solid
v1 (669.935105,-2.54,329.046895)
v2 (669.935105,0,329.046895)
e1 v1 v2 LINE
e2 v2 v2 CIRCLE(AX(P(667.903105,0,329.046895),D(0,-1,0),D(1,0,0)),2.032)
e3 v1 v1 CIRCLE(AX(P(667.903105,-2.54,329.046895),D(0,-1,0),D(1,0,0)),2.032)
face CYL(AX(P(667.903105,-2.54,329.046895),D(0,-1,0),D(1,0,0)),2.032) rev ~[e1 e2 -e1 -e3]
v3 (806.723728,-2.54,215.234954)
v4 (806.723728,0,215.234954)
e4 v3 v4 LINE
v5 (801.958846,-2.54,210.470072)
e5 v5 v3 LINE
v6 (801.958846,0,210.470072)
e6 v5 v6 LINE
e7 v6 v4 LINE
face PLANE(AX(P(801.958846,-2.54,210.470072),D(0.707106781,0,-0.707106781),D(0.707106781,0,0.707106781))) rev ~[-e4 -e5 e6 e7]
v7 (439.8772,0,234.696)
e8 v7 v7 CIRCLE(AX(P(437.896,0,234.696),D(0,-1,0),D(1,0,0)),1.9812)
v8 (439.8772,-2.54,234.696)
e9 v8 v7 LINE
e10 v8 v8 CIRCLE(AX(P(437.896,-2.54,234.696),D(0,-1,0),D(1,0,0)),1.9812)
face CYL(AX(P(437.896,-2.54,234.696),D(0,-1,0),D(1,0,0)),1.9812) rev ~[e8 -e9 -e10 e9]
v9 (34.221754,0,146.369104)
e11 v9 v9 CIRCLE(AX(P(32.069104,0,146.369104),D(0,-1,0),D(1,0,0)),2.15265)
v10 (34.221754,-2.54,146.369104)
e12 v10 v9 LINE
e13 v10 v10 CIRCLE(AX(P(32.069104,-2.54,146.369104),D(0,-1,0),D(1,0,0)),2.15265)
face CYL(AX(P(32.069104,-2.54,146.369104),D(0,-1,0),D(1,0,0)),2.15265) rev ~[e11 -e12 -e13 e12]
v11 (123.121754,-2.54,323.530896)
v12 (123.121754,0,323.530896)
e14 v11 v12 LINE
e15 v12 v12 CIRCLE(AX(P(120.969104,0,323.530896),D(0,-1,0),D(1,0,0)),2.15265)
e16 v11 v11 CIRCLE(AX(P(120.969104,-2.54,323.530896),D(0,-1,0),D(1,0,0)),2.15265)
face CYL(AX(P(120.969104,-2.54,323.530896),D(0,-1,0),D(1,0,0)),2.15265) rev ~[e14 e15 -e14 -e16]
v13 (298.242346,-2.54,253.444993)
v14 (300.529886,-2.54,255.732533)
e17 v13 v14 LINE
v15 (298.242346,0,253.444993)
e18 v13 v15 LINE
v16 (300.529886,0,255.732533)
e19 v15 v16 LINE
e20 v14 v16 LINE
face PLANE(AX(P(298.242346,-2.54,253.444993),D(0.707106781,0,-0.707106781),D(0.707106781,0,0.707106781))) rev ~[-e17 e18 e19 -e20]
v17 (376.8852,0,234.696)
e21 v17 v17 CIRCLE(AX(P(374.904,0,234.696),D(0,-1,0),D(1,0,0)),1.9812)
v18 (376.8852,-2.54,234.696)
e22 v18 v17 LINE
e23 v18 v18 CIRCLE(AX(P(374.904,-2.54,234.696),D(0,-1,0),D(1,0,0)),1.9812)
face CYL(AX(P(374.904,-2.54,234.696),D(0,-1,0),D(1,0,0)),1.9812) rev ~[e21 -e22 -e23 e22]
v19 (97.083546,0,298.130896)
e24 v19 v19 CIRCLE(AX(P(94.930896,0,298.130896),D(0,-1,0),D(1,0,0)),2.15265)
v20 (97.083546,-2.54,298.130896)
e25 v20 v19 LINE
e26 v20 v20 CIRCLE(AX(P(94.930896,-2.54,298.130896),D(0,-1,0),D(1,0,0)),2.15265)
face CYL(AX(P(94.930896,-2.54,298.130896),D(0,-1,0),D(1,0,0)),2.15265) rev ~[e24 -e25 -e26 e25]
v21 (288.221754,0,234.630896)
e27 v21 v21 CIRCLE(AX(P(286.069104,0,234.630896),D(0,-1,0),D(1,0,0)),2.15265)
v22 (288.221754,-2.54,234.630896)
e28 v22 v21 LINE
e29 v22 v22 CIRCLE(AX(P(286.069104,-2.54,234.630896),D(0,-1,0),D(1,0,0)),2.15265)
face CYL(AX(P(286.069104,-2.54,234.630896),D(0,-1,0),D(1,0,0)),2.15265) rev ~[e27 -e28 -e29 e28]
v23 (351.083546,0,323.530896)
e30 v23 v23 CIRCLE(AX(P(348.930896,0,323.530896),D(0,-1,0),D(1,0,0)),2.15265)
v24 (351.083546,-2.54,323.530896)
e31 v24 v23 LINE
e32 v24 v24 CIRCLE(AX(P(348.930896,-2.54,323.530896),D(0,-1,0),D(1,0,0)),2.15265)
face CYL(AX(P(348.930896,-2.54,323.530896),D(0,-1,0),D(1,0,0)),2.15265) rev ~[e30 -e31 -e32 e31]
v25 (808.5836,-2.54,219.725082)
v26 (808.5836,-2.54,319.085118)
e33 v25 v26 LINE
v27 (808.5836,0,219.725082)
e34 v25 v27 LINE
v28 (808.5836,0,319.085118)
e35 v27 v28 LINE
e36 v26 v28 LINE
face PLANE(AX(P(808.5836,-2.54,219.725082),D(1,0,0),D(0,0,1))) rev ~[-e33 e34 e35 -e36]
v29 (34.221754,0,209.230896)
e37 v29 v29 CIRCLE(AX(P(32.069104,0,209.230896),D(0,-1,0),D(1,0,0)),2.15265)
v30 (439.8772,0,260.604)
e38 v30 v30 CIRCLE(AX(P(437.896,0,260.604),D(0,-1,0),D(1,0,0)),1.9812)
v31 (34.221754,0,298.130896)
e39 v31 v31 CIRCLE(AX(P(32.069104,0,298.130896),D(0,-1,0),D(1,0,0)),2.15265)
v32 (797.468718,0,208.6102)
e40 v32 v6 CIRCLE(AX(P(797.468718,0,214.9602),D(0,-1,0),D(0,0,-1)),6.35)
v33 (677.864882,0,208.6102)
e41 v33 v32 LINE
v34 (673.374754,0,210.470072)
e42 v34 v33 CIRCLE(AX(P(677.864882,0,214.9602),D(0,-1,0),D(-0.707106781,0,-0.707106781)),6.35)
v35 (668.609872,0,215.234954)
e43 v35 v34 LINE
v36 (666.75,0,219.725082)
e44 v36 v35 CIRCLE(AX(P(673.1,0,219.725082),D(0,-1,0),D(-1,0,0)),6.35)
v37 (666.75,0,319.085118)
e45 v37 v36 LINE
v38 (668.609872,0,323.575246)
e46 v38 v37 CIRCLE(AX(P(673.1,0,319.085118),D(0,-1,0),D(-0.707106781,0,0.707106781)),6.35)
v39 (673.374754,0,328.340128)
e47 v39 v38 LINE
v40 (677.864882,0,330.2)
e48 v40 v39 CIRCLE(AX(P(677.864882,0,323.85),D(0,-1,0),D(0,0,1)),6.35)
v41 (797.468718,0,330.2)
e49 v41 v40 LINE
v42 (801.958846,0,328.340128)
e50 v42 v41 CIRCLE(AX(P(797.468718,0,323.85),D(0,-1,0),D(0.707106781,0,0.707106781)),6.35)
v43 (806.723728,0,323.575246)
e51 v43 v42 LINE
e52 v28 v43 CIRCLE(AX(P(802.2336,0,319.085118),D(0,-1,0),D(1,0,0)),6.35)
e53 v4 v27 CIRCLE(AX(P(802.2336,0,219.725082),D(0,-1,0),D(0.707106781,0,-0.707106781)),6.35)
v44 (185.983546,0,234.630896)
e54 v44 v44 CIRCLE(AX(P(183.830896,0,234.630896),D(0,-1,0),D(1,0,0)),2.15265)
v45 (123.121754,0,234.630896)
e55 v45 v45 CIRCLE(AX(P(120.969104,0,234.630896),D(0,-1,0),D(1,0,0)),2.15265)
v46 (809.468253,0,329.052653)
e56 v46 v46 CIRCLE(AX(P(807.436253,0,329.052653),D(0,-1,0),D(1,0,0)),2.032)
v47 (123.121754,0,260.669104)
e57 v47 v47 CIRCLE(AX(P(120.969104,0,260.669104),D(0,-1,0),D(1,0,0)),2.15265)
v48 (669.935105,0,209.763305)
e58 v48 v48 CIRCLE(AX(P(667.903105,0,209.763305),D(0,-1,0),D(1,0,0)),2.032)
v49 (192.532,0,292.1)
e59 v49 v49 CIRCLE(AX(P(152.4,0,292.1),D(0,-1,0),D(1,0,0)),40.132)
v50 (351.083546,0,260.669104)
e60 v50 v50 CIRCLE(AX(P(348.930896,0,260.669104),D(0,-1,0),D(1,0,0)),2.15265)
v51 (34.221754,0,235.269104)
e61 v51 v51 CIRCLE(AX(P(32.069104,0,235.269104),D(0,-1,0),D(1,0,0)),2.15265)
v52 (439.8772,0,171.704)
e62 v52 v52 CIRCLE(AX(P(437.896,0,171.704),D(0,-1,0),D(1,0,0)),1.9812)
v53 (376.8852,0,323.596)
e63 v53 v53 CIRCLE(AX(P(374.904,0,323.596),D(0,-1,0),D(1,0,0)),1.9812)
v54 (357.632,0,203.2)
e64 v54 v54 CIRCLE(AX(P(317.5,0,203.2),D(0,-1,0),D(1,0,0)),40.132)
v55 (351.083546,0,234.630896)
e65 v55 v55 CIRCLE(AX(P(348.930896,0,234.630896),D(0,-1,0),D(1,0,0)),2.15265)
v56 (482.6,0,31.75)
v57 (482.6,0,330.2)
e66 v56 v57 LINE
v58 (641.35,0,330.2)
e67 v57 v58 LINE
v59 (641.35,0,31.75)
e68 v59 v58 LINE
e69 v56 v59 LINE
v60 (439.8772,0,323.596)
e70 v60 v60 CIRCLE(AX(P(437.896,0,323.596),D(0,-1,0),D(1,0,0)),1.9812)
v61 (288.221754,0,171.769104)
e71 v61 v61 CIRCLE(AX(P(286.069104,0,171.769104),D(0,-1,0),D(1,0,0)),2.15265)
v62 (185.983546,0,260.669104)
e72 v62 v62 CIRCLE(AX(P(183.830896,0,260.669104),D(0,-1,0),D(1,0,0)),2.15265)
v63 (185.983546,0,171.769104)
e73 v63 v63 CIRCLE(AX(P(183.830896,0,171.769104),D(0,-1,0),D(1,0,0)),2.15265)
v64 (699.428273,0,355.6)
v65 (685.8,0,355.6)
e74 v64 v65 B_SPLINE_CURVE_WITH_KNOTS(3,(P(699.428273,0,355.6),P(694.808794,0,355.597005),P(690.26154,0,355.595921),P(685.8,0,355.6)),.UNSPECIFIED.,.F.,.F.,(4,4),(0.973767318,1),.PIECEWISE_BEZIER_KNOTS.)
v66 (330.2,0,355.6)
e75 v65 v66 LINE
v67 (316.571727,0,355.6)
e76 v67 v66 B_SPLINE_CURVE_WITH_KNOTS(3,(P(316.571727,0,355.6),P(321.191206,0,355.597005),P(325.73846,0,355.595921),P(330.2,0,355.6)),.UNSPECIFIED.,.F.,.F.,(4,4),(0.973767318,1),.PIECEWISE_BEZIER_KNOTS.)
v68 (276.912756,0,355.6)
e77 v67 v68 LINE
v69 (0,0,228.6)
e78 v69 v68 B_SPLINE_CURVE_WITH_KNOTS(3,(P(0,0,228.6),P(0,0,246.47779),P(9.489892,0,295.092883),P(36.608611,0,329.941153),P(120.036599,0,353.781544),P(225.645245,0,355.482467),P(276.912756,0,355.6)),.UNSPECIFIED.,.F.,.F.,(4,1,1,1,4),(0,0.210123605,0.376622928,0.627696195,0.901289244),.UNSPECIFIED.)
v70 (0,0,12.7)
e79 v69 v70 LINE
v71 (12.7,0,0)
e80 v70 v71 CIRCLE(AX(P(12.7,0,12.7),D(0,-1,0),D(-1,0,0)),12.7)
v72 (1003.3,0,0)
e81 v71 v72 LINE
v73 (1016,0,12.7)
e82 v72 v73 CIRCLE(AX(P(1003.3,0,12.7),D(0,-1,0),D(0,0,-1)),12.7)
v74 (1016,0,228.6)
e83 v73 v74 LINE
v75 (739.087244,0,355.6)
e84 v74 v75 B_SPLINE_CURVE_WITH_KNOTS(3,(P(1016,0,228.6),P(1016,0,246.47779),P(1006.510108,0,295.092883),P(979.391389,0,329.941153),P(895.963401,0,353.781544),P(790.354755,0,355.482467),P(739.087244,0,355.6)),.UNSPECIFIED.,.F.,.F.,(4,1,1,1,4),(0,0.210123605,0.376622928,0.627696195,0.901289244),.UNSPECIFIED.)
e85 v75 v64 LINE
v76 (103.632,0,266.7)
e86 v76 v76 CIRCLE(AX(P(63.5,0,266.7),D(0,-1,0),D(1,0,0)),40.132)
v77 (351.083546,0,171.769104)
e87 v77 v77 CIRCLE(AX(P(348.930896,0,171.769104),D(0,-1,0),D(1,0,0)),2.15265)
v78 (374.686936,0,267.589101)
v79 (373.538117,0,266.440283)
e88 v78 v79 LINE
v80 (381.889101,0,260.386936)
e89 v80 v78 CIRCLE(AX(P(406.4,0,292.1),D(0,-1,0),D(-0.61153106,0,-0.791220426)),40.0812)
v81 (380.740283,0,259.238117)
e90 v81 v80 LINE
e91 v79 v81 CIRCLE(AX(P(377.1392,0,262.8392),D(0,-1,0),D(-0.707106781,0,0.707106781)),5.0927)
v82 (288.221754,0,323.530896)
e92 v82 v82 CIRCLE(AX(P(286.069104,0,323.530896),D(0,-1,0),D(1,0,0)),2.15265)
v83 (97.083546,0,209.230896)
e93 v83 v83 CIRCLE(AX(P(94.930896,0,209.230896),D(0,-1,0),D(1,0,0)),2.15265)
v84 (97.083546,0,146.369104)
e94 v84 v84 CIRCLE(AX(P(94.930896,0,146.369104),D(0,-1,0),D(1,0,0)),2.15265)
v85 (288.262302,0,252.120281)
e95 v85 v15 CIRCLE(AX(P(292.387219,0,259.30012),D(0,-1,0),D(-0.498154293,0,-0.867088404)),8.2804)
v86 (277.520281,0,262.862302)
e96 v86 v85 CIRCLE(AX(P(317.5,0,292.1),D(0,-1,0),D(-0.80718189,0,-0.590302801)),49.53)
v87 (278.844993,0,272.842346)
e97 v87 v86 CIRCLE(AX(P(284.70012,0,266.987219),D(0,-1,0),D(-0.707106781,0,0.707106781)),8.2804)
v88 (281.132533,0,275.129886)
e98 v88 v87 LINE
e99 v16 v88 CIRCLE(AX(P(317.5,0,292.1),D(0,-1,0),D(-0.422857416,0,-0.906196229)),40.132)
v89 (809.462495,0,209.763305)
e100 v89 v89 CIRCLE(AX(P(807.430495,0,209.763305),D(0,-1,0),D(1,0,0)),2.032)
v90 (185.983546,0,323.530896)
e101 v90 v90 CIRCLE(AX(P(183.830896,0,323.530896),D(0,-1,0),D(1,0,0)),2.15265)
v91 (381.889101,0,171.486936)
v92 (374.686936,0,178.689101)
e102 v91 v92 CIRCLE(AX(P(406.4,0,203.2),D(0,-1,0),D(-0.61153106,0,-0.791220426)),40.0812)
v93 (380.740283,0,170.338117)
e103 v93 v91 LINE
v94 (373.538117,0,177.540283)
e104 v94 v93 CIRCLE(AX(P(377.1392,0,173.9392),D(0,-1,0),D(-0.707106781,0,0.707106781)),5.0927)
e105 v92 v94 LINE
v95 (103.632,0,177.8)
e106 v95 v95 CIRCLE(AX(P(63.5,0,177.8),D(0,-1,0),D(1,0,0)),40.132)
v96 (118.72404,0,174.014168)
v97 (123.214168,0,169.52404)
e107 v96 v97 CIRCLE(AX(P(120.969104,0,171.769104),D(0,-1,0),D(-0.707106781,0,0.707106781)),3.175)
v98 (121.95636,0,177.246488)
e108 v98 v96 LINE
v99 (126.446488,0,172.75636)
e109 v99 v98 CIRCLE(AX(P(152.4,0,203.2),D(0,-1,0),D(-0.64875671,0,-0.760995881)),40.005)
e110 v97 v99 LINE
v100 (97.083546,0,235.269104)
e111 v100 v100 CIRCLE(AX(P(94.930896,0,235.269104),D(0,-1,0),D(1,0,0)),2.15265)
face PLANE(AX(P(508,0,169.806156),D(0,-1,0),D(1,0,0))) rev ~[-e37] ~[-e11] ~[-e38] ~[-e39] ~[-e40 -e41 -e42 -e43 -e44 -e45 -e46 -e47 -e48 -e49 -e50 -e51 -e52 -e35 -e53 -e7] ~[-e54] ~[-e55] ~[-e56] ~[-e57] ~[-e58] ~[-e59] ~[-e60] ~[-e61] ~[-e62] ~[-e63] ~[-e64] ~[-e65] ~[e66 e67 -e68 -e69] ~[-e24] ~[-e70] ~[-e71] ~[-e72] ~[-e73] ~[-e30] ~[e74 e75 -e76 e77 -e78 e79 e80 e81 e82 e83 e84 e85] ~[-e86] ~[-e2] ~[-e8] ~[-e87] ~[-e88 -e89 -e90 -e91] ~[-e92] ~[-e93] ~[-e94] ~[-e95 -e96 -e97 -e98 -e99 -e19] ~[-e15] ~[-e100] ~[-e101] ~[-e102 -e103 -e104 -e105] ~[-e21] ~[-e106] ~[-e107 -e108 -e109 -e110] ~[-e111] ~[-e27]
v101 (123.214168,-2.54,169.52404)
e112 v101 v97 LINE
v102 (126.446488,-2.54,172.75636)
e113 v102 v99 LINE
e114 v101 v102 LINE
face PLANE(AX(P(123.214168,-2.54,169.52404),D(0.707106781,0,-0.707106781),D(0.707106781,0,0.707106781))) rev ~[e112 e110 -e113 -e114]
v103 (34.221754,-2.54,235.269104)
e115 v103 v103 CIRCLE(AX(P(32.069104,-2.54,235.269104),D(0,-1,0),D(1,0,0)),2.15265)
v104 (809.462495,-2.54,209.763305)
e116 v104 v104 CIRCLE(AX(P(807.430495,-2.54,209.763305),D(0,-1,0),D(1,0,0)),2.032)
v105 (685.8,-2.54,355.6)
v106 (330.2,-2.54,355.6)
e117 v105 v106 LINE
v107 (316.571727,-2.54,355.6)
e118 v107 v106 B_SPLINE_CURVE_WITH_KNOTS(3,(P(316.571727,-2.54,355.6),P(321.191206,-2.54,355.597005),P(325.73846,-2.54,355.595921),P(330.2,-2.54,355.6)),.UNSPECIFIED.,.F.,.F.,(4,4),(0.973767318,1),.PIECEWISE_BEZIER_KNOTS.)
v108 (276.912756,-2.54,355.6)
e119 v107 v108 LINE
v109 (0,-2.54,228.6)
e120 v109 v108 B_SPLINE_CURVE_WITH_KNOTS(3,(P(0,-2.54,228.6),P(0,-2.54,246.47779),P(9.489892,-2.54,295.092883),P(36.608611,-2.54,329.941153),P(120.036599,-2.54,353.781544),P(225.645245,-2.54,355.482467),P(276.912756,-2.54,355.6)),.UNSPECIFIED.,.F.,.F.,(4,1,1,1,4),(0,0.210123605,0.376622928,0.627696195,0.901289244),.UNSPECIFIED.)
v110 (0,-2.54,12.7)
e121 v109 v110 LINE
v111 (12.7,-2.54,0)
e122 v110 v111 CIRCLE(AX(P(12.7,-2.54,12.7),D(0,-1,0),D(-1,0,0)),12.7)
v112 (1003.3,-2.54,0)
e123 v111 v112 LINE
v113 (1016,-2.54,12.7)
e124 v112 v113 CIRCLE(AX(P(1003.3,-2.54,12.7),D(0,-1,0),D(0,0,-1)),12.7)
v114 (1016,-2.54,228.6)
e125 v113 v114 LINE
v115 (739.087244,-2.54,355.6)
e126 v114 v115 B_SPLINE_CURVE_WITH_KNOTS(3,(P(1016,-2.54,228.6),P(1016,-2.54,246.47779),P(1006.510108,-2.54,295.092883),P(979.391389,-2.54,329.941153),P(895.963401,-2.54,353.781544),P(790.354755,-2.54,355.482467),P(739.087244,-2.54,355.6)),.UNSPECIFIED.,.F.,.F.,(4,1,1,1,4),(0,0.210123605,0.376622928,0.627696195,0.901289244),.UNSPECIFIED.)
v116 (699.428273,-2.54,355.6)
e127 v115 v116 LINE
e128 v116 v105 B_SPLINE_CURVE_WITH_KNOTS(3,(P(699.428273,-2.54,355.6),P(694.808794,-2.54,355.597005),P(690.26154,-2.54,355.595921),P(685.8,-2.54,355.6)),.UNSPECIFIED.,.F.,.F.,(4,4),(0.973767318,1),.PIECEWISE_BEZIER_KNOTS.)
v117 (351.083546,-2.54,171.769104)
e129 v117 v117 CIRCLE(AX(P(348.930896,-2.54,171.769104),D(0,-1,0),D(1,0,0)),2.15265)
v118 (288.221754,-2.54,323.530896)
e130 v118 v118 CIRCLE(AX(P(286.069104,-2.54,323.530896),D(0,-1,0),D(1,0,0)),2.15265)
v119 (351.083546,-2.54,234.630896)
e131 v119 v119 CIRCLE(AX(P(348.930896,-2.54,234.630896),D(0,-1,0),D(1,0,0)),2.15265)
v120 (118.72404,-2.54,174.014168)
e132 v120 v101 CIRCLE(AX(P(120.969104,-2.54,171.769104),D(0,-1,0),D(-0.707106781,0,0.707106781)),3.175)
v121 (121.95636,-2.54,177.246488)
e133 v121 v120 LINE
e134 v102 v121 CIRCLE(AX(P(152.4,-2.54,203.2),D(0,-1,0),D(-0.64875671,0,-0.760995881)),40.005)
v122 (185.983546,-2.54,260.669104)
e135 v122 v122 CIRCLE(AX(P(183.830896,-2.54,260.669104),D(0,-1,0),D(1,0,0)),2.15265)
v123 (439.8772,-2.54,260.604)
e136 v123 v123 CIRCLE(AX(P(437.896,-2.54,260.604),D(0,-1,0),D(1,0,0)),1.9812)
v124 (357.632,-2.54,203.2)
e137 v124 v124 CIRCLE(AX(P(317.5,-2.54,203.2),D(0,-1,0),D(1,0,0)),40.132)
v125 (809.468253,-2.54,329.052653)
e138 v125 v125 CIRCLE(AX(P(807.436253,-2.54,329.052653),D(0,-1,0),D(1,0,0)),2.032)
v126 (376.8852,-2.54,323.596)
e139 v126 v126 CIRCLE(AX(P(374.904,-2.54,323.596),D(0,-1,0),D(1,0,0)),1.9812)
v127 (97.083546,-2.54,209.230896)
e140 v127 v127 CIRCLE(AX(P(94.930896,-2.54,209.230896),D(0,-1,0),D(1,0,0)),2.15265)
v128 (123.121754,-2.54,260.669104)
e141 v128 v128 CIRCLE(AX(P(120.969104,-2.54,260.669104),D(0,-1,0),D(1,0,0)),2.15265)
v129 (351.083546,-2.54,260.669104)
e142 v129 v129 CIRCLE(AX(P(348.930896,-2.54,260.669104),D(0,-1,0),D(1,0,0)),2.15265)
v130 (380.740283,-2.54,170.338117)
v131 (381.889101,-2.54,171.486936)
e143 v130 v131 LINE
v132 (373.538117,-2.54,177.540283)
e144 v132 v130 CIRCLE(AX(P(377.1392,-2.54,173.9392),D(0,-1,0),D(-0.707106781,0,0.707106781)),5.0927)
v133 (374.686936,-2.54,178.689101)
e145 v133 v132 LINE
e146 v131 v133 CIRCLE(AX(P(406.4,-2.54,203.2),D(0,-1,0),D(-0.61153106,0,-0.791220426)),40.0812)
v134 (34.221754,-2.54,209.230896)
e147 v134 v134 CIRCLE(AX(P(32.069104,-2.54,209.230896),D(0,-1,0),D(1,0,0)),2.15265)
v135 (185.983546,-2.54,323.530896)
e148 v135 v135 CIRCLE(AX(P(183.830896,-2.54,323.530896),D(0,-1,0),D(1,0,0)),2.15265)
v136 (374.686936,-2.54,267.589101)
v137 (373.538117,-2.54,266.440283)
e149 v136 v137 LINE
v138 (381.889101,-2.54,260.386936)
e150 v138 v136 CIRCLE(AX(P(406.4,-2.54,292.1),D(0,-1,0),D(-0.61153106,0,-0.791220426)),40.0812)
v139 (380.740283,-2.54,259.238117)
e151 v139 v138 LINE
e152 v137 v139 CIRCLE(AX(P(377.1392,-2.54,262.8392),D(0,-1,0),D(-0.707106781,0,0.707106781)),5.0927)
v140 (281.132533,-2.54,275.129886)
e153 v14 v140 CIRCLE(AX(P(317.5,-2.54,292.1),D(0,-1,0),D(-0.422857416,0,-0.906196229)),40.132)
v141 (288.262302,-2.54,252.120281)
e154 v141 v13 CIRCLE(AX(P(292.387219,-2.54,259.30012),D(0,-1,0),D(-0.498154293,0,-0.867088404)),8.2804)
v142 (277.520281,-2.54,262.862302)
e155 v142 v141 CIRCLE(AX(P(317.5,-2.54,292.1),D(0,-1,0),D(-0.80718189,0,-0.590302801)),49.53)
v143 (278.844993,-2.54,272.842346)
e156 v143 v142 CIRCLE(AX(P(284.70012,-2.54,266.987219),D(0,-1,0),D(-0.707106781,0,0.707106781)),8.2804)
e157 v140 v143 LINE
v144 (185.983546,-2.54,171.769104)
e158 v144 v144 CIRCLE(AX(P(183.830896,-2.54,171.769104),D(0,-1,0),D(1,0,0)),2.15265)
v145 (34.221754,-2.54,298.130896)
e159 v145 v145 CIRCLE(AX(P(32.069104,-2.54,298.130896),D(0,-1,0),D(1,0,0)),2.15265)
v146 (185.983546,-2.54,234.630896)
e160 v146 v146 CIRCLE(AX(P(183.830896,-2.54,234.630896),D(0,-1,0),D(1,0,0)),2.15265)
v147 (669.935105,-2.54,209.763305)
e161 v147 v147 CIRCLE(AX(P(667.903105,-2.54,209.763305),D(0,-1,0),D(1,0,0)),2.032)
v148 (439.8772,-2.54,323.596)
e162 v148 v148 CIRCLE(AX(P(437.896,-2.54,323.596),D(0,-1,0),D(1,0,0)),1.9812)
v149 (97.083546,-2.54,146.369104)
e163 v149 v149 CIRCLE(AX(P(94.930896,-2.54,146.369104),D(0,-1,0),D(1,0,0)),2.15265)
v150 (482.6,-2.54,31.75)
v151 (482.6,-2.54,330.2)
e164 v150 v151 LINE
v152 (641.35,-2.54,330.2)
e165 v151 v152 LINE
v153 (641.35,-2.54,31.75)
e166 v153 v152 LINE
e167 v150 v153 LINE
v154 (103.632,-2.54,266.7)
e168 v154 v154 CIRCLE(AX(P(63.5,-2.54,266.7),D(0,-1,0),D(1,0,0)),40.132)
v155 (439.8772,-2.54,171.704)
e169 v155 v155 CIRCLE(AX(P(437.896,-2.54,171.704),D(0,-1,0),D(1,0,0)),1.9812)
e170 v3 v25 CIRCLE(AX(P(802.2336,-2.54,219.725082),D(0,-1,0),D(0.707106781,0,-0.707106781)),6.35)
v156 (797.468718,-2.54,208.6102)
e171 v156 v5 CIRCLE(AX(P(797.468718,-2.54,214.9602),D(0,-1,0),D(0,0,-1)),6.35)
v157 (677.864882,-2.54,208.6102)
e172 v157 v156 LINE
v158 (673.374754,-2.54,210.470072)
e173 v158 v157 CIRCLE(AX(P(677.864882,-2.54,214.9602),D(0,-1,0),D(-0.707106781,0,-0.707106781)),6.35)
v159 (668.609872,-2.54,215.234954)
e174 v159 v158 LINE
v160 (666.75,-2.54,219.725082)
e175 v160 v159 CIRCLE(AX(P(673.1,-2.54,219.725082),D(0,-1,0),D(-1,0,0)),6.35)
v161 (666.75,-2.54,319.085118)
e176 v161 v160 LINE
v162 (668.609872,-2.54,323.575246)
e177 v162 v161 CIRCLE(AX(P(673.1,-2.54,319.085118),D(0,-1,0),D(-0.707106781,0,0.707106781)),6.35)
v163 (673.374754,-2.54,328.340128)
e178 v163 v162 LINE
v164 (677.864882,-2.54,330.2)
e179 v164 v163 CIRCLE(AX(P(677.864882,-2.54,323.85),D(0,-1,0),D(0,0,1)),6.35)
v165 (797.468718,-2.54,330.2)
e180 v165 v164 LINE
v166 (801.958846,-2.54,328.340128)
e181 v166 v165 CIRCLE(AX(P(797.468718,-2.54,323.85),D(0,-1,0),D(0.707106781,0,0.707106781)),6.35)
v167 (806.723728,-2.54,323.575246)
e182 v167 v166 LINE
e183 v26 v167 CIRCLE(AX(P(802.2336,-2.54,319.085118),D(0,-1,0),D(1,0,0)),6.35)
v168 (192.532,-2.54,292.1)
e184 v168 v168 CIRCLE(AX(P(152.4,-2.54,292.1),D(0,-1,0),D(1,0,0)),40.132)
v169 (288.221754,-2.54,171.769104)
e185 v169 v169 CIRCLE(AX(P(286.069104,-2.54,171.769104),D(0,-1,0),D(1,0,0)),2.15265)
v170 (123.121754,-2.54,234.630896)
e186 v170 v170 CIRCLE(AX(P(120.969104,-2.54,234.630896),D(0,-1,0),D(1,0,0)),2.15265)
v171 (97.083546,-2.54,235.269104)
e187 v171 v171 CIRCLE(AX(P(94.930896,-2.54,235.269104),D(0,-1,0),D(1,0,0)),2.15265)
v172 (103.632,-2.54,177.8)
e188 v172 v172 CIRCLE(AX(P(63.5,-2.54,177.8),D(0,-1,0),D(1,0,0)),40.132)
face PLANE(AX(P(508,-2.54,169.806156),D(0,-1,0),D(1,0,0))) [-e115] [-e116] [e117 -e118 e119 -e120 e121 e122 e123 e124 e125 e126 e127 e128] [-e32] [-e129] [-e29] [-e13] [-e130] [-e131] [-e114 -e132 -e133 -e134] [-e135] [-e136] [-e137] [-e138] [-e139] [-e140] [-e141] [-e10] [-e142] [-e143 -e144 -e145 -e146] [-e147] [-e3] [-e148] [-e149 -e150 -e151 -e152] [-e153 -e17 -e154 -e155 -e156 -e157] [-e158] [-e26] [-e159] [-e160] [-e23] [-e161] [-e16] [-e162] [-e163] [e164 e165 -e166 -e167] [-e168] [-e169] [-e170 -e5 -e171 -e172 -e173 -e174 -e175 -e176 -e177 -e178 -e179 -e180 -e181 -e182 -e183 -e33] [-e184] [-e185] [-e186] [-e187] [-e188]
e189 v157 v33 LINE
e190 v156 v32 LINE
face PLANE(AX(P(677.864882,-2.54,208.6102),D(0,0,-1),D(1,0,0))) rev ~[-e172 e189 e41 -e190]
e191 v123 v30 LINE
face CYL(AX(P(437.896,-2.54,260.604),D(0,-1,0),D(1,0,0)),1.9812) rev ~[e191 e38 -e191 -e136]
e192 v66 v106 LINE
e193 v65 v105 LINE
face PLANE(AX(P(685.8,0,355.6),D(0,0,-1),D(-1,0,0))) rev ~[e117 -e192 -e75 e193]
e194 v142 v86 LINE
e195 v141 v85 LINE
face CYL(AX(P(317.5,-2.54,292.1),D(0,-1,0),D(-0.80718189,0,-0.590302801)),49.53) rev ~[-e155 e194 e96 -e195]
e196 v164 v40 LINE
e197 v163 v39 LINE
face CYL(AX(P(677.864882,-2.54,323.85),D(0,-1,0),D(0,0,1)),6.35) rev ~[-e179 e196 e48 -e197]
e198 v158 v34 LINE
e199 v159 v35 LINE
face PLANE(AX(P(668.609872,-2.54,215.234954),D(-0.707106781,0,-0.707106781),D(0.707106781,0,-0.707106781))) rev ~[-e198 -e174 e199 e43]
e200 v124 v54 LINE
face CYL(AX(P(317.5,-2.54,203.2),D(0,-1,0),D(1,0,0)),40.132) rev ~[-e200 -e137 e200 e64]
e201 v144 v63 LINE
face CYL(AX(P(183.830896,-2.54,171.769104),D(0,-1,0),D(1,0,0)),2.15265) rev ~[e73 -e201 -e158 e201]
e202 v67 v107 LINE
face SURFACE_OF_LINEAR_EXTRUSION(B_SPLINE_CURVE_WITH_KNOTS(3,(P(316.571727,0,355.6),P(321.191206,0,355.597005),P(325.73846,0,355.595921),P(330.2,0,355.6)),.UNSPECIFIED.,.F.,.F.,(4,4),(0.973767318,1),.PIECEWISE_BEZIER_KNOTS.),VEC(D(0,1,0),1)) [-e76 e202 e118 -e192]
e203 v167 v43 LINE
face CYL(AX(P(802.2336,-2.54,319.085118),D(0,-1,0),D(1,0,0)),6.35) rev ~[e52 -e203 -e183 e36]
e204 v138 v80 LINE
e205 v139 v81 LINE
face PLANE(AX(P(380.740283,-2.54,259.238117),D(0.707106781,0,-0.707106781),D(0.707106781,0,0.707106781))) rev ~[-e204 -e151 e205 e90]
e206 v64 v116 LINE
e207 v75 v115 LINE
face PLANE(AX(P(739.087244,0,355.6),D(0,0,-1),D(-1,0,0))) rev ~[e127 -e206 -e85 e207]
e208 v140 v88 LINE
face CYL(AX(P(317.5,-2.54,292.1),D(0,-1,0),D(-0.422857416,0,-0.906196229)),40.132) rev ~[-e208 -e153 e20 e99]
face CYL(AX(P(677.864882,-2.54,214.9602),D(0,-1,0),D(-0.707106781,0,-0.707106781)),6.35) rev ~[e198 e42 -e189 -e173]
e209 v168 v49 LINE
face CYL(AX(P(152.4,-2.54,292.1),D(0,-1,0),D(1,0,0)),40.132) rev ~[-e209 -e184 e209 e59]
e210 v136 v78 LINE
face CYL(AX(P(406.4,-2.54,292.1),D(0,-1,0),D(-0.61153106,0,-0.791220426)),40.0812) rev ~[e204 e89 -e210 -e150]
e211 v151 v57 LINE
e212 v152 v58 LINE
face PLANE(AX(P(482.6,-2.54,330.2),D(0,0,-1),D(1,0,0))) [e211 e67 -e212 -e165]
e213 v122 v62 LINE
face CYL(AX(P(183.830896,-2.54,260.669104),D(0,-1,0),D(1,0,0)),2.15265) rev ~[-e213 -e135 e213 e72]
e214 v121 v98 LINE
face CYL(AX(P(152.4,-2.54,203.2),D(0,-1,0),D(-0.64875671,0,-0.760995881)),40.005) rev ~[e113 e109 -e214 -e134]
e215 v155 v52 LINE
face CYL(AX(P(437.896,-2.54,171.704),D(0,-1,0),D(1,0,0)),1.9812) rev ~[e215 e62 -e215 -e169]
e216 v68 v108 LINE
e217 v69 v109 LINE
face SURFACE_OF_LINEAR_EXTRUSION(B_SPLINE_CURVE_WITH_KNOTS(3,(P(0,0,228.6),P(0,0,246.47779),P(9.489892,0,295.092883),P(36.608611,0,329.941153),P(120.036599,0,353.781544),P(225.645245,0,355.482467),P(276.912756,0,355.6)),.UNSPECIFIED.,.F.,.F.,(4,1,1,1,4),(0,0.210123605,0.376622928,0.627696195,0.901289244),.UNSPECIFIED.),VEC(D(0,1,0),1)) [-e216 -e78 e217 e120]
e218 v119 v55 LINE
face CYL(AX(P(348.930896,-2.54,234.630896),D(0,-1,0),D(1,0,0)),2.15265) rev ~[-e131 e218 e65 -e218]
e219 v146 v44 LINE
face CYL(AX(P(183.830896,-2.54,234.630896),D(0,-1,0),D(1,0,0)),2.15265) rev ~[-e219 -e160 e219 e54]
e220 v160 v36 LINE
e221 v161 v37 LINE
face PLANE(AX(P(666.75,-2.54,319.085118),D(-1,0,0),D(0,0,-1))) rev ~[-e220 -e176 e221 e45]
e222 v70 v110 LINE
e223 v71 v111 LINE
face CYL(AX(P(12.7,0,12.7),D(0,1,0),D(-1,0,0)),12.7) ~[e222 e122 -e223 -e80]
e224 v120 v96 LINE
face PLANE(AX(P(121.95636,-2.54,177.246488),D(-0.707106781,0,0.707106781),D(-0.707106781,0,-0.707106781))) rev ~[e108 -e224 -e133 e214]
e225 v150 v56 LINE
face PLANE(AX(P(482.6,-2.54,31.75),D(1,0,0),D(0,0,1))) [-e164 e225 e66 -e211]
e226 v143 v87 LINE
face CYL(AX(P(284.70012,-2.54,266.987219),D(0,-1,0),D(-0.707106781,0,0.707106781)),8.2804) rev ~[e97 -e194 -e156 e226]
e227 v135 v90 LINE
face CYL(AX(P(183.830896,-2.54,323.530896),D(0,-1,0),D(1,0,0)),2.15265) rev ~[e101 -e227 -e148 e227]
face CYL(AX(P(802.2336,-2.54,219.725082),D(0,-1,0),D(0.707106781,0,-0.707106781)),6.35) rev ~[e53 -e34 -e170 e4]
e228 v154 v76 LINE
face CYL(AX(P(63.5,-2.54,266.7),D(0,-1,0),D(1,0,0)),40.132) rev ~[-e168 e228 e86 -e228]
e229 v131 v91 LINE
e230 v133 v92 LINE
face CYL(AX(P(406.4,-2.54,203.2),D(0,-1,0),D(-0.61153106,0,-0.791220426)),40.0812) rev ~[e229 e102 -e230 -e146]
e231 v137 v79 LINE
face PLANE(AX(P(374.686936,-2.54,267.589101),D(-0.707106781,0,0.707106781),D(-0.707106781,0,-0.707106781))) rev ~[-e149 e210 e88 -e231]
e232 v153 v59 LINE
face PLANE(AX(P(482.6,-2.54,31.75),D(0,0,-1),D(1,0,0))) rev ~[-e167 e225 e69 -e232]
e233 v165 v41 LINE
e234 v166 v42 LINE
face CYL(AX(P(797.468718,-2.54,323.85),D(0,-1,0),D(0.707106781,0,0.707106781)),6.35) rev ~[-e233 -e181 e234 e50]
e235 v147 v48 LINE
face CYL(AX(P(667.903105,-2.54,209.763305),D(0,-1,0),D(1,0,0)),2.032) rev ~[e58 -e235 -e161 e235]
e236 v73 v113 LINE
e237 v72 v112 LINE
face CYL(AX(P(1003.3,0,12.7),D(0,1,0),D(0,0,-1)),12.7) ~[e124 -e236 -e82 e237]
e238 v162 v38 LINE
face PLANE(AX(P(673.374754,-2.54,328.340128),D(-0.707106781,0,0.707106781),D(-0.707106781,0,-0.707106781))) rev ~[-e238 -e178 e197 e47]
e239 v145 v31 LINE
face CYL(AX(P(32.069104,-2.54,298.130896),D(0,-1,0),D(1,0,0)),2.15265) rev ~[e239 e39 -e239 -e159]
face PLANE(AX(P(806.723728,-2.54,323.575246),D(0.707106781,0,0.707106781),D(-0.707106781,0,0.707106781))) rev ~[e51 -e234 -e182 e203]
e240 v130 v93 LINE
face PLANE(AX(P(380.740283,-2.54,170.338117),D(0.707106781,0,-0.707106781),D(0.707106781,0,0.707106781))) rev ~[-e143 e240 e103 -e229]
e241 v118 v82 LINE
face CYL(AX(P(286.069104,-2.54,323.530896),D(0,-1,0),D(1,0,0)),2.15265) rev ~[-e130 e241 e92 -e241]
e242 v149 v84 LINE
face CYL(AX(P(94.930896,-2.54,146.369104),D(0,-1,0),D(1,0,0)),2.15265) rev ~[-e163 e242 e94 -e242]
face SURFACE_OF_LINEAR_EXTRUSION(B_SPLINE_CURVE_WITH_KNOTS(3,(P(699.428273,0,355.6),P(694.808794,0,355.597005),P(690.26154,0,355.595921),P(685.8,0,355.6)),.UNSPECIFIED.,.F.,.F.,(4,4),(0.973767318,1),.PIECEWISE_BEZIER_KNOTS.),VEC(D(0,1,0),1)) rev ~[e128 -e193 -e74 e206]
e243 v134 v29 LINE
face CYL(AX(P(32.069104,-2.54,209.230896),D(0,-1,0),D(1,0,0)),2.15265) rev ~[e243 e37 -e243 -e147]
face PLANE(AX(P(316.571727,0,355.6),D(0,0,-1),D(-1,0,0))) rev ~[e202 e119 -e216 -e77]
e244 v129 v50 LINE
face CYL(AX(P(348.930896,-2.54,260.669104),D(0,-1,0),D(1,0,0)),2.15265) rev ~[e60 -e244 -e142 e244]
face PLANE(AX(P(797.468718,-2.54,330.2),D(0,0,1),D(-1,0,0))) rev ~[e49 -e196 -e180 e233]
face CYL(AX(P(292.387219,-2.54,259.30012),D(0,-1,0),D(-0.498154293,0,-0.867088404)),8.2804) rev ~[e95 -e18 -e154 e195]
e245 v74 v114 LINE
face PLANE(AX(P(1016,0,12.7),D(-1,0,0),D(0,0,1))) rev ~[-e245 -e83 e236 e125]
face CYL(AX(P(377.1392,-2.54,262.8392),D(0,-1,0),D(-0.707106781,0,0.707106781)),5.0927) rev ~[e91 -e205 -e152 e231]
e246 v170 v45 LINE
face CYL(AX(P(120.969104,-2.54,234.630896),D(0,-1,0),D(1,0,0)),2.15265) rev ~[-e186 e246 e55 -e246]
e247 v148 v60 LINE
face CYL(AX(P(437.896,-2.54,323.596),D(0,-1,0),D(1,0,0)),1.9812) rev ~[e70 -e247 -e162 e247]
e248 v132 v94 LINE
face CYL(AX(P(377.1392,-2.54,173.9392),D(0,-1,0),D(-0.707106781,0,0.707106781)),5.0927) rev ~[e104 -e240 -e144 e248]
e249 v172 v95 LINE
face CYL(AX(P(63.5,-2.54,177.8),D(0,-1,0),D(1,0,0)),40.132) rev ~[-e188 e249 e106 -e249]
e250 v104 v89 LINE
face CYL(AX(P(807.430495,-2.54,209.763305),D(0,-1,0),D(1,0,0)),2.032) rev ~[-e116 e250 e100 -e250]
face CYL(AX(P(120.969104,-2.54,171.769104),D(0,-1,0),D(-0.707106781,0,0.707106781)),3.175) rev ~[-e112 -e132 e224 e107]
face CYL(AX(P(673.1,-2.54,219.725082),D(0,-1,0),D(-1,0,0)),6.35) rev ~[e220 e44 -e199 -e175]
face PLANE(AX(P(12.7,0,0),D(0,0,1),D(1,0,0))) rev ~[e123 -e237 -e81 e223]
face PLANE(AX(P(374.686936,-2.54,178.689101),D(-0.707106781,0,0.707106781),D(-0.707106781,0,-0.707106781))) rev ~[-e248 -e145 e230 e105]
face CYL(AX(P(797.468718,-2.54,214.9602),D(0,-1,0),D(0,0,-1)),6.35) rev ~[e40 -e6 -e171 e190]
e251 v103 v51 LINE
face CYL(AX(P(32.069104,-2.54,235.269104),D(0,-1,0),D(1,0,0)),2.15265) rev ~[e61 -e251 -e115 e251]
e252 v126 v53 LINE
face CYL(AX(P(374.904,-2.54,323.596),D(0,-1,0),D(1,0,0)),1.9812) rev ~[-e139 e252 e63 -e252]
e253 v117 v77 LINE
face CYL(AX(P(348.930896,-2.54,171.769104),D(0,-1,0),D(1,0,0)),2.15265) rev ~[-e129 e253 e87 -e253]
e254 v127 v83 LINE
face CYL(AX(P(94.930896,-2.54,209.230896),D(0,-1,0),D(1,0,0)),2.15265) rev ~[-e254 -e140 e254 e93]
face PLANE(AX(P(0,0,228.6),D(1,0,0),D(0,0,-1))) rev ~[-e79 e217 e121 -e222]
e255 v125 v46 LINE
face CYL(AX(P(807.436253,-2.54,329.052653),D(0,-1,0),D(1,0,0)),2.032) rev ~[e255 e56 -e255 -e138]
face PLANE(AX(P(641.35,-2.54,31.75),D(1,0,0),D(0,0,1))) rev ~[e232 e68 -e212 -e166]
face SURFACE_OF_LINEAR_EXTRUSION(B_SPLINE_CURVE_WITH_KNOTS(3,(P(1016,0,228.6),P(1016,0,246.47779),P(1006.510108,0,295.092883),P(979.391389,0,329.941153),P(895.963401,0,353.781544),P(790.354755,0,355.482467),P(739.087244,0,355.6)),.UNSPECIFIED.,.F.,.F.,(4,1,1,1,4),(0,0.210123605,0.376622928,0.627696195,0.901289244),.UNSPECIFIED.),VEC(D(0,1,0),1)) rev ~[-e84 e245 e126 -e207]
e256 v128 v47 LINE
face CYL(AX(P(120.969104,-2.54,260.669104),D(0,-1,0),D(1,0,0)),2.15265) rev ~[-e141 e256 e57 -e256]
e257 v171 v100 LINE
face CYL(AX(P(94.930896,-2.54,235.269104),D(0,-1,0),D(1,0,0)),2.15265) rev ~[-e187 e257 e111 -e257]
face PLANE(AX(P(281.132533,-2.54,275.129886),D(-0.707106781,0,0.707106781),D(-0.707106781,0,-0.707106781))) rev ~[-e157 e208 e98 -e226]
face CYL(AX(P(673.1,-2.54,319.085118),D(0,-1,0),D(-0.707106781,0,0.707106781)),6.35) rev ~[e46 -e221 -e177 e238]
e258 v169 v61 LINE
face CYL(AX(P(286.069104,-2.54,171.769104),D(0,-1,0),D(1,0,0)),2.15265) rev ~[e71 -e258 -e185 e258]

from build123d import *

# Parameters (mm, degrees)
F1_DEPTH  = 2.54
F2_R      = 1.9812
F3_DEPTH  = 2.5410001
F4_R      = 2.15265
F5_DEPTH  = 2.5410001
F6_W      = 158.75
F6_H      = 298.45
F7_DEPTH  = 2.5410001
F8_R      = 40.132
F8_R_2    = 2.15265
F9_DEPTH  = 2.5410001
F10_R     = 2.15265
F11_DEPTH = 2.5410001
F12_R     = 2.032
F13_DEPTH = 2.5410001


with BuildPart() as f1:
    # F0 (on Front) → F1 (new body)
    with BuildSketch(Plane.XZ):
        with BuildLine():
            ThreePointArc((0, 12.7), (3.7197438789, 3.7197438789), (12.7, 0))
            Line((12.7, 0), (1003.3, 0))
            ThreePointArc((1003.3, 0), (1012.2802561211, 3.7197438789), (1016, 12.7))
            Line((1016, 12.7), (1016, 228.6))
            add(Edge.make_bspline(
                [(1016, 228.6), (1016, 246.4777903282), (1006.5101076302, 295.0928833115), (979.3913885797, 329.9411530608), (895.9634014896, 353.7815438771), (790.3547549462, 355.4824667466), (739.0872439323, 355.6)],
                knots=[0, 0, 0, 0, 0.210123605, 0.3766229282, 0.6276961951, 0.9012892439, 0.9012892439, 0.9012892439, 0.9012892439], degree=3))
            Line((739.0872439323, 355.6), (699.4282730934, 355.6))
            add(Edge.make_bspline(
                [(699.4282730934, 355.6), (694.8087936185, 355.5970051394), (690.2615404764, 355.5959211809), (685.8, 355.6)],
                knots=[0.9737673181, 0.9737673181, 0.9737673181, 0.9737673181, 1, 1, 1, 1], degree=3))
            Line((685.8, 355.6), (330.2, 355.6))
            add(Edge.make_bspline(
                [(316.5717269066, 355.6), (321.1912063815, 355.5970051394), (325.7384595236, 355.5959211809), (330.2, 355.6)],
                knots=[0.9737673181, 0.9737673181, 0.9737673181, 0.9737673181, 1, 1, 1, 1], degree=3))
            Line((316.5717269066, 355.6), (276.9127560677, 355.6))
            add(Edge.make_bspline(
                [(0, 228.6), (0, 246.4777903282), (9.4898923698, 295.0928833115), (36.6086114203, 329.9411530608), (120.0365985104, 353.7815438771), (225.6452450538, 355.4824667466), (276.9127560677, 355.6)],
                knots=[0, 0, 0, 0, 0.210123605, 0.3766229282, 0.6276961951, 0.9012892439, 0.9012892439, 0.9012892439, 0.9012892439], degree=3))
            Line((0, 228.6), (0, 12.7))
        make_face()
    extrude(amount=F1_DEPTH)

    # F2 (on face) → F3 (cut, through all)
    with BuildSketch(Plane.XZ.offset(2.54)):
        with BuildLine():
            Line((380.7402827045, 259.2381172955), (381.8891012718, 260.3869358627))
            ThreePointArc((381.8891012718, 260.3869358627), (434.7416883181, 320.4416883181), (374.6869358627, 267.5891012718))
            Line((374.6869358627, 267.5891012718), (373.5381172955, 266.4402827045))
            ThreePointArc((373.5381172955, 266.4402827045), (373.5381172955, 259.2381172955), (380.7402827045, 259.2381172955))
        make_face()
        with Locations((437.896, 323.596)):
            Circle(F2_R)
        with Locations((374.904, 323.596)):
            Circle(F2_R)
        with Locations((437.896, 260.604)):
            Circle(F2_R)
        with BuildLine():
            Line((380.7402827045, 170.3381172955), (381.8891012718, 171.4869358627))
            ThreePointArc((381.8891012718, 171.4869358627), (434.7416883181, 231.5416883181), (374.6869358627, 178.6891012718))
            Line((374.6869358627, 178.6891012718), (373.5381172955, 177.5402827045))
            ThreePointArc((373.5381172955, 177.5402827045), (373.5381172955, 170.3381172955), (380.7402827045, 170.3381172955))
        make_face()
        with Locations((437.896, 234.696)):
            Circle(F2_R)
        with Locations((374.904, 234.696)):
            Circle(F2_R)
        with Locations((437.896, 171.704)):
            Circle(F2_R)
    extrude(amount=-F3_DEPTH, mode=Mode.SUBTRACT)

    # F4 (on face) → F5 (cut, through all)
    with BuildSketch(Plane.XZ.offset(2.54)):
        with BuildLine():
            Line((298.2423460579, 253.4449928364), (300.529886162, 255.7325329405))
            ThreePointArc((300.529886162, 255.7325329405), (345.8776093426, 320.4776093426), (281.1325329405, 275.129886162))
            Line((281.1325329405, 275.129886162), (278.8449928364, 272.8423460579))
            ThreePointArc((278.8449928364, 272.8423460579), (276.4917154765, 268.07677043), (277.520281009, 262.8623022555))
            ThreePointArc((277.520281009, 262.8623022555), (282.4770011278, 257.0770011278), (288.2623022555, 252.120281009))
            ThreePointArc((288.2623022555, 252.120281009), (293.47677043, 251.0917154765), (298.2423460579, 253.4449928364))
        make_face()
        with Locations((286.0691035763, 323.5308964237)):
            Circle(F4_R)
        with Locations((348.9308964237, 323.5308964237)):
            Circle(F4_R)
        with Locations((348.9308964237, 260.6691035763)):
            Circle(F4_R)
    extrude(amount=-F5_DEPTH, mode=Mode.SUBTRACT)

    # F6 (on face) → F7 (cut, through all)
    with BuildSketch(Plane.XZ.offset(2.54)):
        with Locations((561.975, 180.975)):
            Rectangle(F6_W, F6_H)
    extrude(amount=-F7_DEPTH, mode=Mode.SUBTRACT)

    # F8 (on face) → F9 (cut, through all)
    with BuildSketch(Plane.XZ.offset(2.54)):
        with Locations((152.4, 292.1)):
            Circle(F8_R)
        with Locations((120.9691035763, 323.5308964237)):
            Circle(F8_R_2)
        with Locations((183.8308964237, 323.5308964237)):
            Circle(F8_R_2)
        with Locations((183.8308964237, 260.6691035763)):
            Circle(F8_R_2)
        with Locations((120.9691035763, 260.6691035763)):
            Circle(F8_R_2)
        with Locations((63.5, 266.7)):
            Circle(F8_R)
        with Locations((32.0691035763, 298.1308964237)):
            Circle(F8_R_2)
        with Locations((94.9308964237, 298.1308964237)):
            Circle(F8_R_2)
        with Locations((94.9308964237, 235.2691035763)):
            Circle(F8_R_2)
        with Locations((32.0691035763, 235.2691035763)):
            Circle(F8_R_2)
        with Locations((63.5, 177.8)):
            Circle(F8_R)
        with Locations((32.0691035763, 209.2308964237)):
            Circle(F8_R_2)
        with Locations((94.9308964237, 209.2308964237)):
            Circle(F8_R_2)
        with Locations((94.9308964237, 146.3691035763)):
            Circle(F8_R_2)
        with Locations((32.0691035763, 146.3691035763)):
            Circle(F8_R_2)
        with Locations((317.5, 203.2)):
            Circle(F8_R)
        with Locations((286.0691035763, 234.6308964237)):
            Circle(F8_R_2)
        with Locations((348.9308964237, 234.6308964237)):
            Circle(F8_R_2)
        with Locations((348.9308964237, 171.7691035763)):
            Circle(F8_R_2)
        with Locations((286.0691035763, 171.7691035763)):
            Circle(F8_R_2)
    extrude(amount=-F9_DEPTH, mode=Mode.SUBTRACT)

    # F10 (on face) → F11 (cut, through all)
    with BuildSketch(Plane.XZ.offset(2.54)):
        with BuildLine():
            Line((123.2141676065, 169.524039546), (126.4464878251, 172.7563597645))
            ThreePointArc((126.4464878251, 172.7563597645), (180.6878067814, 231.4878067814), (121.9563597645, 177.2464878251))
            Line((121.9563597645, 177.2464878251), (118.724039546, 174.0141676065))
            ThreePointArc((118.724039546, 174.0141676065), (118.724039546, 169.524039546), (123.2141676065, 169.524039546))
        make_face()
        with Locations((120.9691035763, 234.6308964237)):
            Circle(F10_R)
        with Locations((183.8308964237, 234.6308964237)):
            Circle(F10_R)
        with Locations((183.8308964237, 171.7691035763)):
            Circle(F10_R)
    extrude(amount=-F11_DEPTH, mode=Mode.SUBTRACT)

    # F12 (on face) → F13 (cut, through all)
    with BuildSketch(Plane.XZ.offset(2.54)):
        with BuildLine():
            ThreePointArc((673.3747535672, 210.4700719395), (675.4348418322, 209.0935649686), (677.8648816278, 208.6102))
            Line((677.8648816278, 208.6102), (797.4687183722, 208.6102))
            ThreePointArc((797.4687183722, 208.6102), (799.8987581678, 209.0935649686), (801.9588464328, 210.4700719395))
            Line((801.9588464328, 210.4700719395), (806.7237280605, 215.2349535672))
            ThreePointArc((806.7237280605, 215.2349535672), (808.1002350314, 217.2950418322), (808.5836, 219.7250816278))
            Line((808.5836, 219.7250816278), (808.5836, 319.0851183722))
            ThreePointArc((808.5836, 319.0851183722), (808.1002350314, 321.5151581678), (806.7237280605, 323.5752464328))
            Line((806.7237280605, 323.5752464328), (801.9588464328, 328.3401280605))
            ThreePointArc((801.9588464328, 328.3401280605), (799.8987581678, 329.7166350314), (797.4687183722, 330.2))
            Line((797.4687183722, 330.2), (677.8648816278, 330.2))
            ThreePointArc((677.8648816278, 330.2), (675.4348418322, 329.7166350314), (673.3747535672, 328.3401280605))
            Line((673.3747535672, 328.3401280605), (668.6098719395, 323.5752464328))
            ThreePointArc((668.6098719395, 323.5752464328), (667.2333649686, 321.5151581678), (666.75, 319.0851183722))
            Line((666.75, 319.0851183722), (666.75, 219.7250816278))
            ThreePointArc((666.75, 219.7250816278), (667.2333649686, 217.2950418322), (668.6098719395, 215.2349535672))
            Line((668.6098719395, 215.2349535672), (673.3747535672, 210.4700719395))
        make_face()
        with Locations((667.9031046477, 209.7633046477)):
            Circle(F12_R)
        with Locations((807.4304953523, 209.7633046477)):
            Circle(F12_R)
        with Locations((807.4362529289, 329.0526529289)):
            Circle(F12_R)
        with Locations((667.9031046477, 329.0468953523)):
            Circle(F12_R)
    extrude(amount=-F13_DEPTH, mode=Mode.SUBTRACT)


solid = f1.part
